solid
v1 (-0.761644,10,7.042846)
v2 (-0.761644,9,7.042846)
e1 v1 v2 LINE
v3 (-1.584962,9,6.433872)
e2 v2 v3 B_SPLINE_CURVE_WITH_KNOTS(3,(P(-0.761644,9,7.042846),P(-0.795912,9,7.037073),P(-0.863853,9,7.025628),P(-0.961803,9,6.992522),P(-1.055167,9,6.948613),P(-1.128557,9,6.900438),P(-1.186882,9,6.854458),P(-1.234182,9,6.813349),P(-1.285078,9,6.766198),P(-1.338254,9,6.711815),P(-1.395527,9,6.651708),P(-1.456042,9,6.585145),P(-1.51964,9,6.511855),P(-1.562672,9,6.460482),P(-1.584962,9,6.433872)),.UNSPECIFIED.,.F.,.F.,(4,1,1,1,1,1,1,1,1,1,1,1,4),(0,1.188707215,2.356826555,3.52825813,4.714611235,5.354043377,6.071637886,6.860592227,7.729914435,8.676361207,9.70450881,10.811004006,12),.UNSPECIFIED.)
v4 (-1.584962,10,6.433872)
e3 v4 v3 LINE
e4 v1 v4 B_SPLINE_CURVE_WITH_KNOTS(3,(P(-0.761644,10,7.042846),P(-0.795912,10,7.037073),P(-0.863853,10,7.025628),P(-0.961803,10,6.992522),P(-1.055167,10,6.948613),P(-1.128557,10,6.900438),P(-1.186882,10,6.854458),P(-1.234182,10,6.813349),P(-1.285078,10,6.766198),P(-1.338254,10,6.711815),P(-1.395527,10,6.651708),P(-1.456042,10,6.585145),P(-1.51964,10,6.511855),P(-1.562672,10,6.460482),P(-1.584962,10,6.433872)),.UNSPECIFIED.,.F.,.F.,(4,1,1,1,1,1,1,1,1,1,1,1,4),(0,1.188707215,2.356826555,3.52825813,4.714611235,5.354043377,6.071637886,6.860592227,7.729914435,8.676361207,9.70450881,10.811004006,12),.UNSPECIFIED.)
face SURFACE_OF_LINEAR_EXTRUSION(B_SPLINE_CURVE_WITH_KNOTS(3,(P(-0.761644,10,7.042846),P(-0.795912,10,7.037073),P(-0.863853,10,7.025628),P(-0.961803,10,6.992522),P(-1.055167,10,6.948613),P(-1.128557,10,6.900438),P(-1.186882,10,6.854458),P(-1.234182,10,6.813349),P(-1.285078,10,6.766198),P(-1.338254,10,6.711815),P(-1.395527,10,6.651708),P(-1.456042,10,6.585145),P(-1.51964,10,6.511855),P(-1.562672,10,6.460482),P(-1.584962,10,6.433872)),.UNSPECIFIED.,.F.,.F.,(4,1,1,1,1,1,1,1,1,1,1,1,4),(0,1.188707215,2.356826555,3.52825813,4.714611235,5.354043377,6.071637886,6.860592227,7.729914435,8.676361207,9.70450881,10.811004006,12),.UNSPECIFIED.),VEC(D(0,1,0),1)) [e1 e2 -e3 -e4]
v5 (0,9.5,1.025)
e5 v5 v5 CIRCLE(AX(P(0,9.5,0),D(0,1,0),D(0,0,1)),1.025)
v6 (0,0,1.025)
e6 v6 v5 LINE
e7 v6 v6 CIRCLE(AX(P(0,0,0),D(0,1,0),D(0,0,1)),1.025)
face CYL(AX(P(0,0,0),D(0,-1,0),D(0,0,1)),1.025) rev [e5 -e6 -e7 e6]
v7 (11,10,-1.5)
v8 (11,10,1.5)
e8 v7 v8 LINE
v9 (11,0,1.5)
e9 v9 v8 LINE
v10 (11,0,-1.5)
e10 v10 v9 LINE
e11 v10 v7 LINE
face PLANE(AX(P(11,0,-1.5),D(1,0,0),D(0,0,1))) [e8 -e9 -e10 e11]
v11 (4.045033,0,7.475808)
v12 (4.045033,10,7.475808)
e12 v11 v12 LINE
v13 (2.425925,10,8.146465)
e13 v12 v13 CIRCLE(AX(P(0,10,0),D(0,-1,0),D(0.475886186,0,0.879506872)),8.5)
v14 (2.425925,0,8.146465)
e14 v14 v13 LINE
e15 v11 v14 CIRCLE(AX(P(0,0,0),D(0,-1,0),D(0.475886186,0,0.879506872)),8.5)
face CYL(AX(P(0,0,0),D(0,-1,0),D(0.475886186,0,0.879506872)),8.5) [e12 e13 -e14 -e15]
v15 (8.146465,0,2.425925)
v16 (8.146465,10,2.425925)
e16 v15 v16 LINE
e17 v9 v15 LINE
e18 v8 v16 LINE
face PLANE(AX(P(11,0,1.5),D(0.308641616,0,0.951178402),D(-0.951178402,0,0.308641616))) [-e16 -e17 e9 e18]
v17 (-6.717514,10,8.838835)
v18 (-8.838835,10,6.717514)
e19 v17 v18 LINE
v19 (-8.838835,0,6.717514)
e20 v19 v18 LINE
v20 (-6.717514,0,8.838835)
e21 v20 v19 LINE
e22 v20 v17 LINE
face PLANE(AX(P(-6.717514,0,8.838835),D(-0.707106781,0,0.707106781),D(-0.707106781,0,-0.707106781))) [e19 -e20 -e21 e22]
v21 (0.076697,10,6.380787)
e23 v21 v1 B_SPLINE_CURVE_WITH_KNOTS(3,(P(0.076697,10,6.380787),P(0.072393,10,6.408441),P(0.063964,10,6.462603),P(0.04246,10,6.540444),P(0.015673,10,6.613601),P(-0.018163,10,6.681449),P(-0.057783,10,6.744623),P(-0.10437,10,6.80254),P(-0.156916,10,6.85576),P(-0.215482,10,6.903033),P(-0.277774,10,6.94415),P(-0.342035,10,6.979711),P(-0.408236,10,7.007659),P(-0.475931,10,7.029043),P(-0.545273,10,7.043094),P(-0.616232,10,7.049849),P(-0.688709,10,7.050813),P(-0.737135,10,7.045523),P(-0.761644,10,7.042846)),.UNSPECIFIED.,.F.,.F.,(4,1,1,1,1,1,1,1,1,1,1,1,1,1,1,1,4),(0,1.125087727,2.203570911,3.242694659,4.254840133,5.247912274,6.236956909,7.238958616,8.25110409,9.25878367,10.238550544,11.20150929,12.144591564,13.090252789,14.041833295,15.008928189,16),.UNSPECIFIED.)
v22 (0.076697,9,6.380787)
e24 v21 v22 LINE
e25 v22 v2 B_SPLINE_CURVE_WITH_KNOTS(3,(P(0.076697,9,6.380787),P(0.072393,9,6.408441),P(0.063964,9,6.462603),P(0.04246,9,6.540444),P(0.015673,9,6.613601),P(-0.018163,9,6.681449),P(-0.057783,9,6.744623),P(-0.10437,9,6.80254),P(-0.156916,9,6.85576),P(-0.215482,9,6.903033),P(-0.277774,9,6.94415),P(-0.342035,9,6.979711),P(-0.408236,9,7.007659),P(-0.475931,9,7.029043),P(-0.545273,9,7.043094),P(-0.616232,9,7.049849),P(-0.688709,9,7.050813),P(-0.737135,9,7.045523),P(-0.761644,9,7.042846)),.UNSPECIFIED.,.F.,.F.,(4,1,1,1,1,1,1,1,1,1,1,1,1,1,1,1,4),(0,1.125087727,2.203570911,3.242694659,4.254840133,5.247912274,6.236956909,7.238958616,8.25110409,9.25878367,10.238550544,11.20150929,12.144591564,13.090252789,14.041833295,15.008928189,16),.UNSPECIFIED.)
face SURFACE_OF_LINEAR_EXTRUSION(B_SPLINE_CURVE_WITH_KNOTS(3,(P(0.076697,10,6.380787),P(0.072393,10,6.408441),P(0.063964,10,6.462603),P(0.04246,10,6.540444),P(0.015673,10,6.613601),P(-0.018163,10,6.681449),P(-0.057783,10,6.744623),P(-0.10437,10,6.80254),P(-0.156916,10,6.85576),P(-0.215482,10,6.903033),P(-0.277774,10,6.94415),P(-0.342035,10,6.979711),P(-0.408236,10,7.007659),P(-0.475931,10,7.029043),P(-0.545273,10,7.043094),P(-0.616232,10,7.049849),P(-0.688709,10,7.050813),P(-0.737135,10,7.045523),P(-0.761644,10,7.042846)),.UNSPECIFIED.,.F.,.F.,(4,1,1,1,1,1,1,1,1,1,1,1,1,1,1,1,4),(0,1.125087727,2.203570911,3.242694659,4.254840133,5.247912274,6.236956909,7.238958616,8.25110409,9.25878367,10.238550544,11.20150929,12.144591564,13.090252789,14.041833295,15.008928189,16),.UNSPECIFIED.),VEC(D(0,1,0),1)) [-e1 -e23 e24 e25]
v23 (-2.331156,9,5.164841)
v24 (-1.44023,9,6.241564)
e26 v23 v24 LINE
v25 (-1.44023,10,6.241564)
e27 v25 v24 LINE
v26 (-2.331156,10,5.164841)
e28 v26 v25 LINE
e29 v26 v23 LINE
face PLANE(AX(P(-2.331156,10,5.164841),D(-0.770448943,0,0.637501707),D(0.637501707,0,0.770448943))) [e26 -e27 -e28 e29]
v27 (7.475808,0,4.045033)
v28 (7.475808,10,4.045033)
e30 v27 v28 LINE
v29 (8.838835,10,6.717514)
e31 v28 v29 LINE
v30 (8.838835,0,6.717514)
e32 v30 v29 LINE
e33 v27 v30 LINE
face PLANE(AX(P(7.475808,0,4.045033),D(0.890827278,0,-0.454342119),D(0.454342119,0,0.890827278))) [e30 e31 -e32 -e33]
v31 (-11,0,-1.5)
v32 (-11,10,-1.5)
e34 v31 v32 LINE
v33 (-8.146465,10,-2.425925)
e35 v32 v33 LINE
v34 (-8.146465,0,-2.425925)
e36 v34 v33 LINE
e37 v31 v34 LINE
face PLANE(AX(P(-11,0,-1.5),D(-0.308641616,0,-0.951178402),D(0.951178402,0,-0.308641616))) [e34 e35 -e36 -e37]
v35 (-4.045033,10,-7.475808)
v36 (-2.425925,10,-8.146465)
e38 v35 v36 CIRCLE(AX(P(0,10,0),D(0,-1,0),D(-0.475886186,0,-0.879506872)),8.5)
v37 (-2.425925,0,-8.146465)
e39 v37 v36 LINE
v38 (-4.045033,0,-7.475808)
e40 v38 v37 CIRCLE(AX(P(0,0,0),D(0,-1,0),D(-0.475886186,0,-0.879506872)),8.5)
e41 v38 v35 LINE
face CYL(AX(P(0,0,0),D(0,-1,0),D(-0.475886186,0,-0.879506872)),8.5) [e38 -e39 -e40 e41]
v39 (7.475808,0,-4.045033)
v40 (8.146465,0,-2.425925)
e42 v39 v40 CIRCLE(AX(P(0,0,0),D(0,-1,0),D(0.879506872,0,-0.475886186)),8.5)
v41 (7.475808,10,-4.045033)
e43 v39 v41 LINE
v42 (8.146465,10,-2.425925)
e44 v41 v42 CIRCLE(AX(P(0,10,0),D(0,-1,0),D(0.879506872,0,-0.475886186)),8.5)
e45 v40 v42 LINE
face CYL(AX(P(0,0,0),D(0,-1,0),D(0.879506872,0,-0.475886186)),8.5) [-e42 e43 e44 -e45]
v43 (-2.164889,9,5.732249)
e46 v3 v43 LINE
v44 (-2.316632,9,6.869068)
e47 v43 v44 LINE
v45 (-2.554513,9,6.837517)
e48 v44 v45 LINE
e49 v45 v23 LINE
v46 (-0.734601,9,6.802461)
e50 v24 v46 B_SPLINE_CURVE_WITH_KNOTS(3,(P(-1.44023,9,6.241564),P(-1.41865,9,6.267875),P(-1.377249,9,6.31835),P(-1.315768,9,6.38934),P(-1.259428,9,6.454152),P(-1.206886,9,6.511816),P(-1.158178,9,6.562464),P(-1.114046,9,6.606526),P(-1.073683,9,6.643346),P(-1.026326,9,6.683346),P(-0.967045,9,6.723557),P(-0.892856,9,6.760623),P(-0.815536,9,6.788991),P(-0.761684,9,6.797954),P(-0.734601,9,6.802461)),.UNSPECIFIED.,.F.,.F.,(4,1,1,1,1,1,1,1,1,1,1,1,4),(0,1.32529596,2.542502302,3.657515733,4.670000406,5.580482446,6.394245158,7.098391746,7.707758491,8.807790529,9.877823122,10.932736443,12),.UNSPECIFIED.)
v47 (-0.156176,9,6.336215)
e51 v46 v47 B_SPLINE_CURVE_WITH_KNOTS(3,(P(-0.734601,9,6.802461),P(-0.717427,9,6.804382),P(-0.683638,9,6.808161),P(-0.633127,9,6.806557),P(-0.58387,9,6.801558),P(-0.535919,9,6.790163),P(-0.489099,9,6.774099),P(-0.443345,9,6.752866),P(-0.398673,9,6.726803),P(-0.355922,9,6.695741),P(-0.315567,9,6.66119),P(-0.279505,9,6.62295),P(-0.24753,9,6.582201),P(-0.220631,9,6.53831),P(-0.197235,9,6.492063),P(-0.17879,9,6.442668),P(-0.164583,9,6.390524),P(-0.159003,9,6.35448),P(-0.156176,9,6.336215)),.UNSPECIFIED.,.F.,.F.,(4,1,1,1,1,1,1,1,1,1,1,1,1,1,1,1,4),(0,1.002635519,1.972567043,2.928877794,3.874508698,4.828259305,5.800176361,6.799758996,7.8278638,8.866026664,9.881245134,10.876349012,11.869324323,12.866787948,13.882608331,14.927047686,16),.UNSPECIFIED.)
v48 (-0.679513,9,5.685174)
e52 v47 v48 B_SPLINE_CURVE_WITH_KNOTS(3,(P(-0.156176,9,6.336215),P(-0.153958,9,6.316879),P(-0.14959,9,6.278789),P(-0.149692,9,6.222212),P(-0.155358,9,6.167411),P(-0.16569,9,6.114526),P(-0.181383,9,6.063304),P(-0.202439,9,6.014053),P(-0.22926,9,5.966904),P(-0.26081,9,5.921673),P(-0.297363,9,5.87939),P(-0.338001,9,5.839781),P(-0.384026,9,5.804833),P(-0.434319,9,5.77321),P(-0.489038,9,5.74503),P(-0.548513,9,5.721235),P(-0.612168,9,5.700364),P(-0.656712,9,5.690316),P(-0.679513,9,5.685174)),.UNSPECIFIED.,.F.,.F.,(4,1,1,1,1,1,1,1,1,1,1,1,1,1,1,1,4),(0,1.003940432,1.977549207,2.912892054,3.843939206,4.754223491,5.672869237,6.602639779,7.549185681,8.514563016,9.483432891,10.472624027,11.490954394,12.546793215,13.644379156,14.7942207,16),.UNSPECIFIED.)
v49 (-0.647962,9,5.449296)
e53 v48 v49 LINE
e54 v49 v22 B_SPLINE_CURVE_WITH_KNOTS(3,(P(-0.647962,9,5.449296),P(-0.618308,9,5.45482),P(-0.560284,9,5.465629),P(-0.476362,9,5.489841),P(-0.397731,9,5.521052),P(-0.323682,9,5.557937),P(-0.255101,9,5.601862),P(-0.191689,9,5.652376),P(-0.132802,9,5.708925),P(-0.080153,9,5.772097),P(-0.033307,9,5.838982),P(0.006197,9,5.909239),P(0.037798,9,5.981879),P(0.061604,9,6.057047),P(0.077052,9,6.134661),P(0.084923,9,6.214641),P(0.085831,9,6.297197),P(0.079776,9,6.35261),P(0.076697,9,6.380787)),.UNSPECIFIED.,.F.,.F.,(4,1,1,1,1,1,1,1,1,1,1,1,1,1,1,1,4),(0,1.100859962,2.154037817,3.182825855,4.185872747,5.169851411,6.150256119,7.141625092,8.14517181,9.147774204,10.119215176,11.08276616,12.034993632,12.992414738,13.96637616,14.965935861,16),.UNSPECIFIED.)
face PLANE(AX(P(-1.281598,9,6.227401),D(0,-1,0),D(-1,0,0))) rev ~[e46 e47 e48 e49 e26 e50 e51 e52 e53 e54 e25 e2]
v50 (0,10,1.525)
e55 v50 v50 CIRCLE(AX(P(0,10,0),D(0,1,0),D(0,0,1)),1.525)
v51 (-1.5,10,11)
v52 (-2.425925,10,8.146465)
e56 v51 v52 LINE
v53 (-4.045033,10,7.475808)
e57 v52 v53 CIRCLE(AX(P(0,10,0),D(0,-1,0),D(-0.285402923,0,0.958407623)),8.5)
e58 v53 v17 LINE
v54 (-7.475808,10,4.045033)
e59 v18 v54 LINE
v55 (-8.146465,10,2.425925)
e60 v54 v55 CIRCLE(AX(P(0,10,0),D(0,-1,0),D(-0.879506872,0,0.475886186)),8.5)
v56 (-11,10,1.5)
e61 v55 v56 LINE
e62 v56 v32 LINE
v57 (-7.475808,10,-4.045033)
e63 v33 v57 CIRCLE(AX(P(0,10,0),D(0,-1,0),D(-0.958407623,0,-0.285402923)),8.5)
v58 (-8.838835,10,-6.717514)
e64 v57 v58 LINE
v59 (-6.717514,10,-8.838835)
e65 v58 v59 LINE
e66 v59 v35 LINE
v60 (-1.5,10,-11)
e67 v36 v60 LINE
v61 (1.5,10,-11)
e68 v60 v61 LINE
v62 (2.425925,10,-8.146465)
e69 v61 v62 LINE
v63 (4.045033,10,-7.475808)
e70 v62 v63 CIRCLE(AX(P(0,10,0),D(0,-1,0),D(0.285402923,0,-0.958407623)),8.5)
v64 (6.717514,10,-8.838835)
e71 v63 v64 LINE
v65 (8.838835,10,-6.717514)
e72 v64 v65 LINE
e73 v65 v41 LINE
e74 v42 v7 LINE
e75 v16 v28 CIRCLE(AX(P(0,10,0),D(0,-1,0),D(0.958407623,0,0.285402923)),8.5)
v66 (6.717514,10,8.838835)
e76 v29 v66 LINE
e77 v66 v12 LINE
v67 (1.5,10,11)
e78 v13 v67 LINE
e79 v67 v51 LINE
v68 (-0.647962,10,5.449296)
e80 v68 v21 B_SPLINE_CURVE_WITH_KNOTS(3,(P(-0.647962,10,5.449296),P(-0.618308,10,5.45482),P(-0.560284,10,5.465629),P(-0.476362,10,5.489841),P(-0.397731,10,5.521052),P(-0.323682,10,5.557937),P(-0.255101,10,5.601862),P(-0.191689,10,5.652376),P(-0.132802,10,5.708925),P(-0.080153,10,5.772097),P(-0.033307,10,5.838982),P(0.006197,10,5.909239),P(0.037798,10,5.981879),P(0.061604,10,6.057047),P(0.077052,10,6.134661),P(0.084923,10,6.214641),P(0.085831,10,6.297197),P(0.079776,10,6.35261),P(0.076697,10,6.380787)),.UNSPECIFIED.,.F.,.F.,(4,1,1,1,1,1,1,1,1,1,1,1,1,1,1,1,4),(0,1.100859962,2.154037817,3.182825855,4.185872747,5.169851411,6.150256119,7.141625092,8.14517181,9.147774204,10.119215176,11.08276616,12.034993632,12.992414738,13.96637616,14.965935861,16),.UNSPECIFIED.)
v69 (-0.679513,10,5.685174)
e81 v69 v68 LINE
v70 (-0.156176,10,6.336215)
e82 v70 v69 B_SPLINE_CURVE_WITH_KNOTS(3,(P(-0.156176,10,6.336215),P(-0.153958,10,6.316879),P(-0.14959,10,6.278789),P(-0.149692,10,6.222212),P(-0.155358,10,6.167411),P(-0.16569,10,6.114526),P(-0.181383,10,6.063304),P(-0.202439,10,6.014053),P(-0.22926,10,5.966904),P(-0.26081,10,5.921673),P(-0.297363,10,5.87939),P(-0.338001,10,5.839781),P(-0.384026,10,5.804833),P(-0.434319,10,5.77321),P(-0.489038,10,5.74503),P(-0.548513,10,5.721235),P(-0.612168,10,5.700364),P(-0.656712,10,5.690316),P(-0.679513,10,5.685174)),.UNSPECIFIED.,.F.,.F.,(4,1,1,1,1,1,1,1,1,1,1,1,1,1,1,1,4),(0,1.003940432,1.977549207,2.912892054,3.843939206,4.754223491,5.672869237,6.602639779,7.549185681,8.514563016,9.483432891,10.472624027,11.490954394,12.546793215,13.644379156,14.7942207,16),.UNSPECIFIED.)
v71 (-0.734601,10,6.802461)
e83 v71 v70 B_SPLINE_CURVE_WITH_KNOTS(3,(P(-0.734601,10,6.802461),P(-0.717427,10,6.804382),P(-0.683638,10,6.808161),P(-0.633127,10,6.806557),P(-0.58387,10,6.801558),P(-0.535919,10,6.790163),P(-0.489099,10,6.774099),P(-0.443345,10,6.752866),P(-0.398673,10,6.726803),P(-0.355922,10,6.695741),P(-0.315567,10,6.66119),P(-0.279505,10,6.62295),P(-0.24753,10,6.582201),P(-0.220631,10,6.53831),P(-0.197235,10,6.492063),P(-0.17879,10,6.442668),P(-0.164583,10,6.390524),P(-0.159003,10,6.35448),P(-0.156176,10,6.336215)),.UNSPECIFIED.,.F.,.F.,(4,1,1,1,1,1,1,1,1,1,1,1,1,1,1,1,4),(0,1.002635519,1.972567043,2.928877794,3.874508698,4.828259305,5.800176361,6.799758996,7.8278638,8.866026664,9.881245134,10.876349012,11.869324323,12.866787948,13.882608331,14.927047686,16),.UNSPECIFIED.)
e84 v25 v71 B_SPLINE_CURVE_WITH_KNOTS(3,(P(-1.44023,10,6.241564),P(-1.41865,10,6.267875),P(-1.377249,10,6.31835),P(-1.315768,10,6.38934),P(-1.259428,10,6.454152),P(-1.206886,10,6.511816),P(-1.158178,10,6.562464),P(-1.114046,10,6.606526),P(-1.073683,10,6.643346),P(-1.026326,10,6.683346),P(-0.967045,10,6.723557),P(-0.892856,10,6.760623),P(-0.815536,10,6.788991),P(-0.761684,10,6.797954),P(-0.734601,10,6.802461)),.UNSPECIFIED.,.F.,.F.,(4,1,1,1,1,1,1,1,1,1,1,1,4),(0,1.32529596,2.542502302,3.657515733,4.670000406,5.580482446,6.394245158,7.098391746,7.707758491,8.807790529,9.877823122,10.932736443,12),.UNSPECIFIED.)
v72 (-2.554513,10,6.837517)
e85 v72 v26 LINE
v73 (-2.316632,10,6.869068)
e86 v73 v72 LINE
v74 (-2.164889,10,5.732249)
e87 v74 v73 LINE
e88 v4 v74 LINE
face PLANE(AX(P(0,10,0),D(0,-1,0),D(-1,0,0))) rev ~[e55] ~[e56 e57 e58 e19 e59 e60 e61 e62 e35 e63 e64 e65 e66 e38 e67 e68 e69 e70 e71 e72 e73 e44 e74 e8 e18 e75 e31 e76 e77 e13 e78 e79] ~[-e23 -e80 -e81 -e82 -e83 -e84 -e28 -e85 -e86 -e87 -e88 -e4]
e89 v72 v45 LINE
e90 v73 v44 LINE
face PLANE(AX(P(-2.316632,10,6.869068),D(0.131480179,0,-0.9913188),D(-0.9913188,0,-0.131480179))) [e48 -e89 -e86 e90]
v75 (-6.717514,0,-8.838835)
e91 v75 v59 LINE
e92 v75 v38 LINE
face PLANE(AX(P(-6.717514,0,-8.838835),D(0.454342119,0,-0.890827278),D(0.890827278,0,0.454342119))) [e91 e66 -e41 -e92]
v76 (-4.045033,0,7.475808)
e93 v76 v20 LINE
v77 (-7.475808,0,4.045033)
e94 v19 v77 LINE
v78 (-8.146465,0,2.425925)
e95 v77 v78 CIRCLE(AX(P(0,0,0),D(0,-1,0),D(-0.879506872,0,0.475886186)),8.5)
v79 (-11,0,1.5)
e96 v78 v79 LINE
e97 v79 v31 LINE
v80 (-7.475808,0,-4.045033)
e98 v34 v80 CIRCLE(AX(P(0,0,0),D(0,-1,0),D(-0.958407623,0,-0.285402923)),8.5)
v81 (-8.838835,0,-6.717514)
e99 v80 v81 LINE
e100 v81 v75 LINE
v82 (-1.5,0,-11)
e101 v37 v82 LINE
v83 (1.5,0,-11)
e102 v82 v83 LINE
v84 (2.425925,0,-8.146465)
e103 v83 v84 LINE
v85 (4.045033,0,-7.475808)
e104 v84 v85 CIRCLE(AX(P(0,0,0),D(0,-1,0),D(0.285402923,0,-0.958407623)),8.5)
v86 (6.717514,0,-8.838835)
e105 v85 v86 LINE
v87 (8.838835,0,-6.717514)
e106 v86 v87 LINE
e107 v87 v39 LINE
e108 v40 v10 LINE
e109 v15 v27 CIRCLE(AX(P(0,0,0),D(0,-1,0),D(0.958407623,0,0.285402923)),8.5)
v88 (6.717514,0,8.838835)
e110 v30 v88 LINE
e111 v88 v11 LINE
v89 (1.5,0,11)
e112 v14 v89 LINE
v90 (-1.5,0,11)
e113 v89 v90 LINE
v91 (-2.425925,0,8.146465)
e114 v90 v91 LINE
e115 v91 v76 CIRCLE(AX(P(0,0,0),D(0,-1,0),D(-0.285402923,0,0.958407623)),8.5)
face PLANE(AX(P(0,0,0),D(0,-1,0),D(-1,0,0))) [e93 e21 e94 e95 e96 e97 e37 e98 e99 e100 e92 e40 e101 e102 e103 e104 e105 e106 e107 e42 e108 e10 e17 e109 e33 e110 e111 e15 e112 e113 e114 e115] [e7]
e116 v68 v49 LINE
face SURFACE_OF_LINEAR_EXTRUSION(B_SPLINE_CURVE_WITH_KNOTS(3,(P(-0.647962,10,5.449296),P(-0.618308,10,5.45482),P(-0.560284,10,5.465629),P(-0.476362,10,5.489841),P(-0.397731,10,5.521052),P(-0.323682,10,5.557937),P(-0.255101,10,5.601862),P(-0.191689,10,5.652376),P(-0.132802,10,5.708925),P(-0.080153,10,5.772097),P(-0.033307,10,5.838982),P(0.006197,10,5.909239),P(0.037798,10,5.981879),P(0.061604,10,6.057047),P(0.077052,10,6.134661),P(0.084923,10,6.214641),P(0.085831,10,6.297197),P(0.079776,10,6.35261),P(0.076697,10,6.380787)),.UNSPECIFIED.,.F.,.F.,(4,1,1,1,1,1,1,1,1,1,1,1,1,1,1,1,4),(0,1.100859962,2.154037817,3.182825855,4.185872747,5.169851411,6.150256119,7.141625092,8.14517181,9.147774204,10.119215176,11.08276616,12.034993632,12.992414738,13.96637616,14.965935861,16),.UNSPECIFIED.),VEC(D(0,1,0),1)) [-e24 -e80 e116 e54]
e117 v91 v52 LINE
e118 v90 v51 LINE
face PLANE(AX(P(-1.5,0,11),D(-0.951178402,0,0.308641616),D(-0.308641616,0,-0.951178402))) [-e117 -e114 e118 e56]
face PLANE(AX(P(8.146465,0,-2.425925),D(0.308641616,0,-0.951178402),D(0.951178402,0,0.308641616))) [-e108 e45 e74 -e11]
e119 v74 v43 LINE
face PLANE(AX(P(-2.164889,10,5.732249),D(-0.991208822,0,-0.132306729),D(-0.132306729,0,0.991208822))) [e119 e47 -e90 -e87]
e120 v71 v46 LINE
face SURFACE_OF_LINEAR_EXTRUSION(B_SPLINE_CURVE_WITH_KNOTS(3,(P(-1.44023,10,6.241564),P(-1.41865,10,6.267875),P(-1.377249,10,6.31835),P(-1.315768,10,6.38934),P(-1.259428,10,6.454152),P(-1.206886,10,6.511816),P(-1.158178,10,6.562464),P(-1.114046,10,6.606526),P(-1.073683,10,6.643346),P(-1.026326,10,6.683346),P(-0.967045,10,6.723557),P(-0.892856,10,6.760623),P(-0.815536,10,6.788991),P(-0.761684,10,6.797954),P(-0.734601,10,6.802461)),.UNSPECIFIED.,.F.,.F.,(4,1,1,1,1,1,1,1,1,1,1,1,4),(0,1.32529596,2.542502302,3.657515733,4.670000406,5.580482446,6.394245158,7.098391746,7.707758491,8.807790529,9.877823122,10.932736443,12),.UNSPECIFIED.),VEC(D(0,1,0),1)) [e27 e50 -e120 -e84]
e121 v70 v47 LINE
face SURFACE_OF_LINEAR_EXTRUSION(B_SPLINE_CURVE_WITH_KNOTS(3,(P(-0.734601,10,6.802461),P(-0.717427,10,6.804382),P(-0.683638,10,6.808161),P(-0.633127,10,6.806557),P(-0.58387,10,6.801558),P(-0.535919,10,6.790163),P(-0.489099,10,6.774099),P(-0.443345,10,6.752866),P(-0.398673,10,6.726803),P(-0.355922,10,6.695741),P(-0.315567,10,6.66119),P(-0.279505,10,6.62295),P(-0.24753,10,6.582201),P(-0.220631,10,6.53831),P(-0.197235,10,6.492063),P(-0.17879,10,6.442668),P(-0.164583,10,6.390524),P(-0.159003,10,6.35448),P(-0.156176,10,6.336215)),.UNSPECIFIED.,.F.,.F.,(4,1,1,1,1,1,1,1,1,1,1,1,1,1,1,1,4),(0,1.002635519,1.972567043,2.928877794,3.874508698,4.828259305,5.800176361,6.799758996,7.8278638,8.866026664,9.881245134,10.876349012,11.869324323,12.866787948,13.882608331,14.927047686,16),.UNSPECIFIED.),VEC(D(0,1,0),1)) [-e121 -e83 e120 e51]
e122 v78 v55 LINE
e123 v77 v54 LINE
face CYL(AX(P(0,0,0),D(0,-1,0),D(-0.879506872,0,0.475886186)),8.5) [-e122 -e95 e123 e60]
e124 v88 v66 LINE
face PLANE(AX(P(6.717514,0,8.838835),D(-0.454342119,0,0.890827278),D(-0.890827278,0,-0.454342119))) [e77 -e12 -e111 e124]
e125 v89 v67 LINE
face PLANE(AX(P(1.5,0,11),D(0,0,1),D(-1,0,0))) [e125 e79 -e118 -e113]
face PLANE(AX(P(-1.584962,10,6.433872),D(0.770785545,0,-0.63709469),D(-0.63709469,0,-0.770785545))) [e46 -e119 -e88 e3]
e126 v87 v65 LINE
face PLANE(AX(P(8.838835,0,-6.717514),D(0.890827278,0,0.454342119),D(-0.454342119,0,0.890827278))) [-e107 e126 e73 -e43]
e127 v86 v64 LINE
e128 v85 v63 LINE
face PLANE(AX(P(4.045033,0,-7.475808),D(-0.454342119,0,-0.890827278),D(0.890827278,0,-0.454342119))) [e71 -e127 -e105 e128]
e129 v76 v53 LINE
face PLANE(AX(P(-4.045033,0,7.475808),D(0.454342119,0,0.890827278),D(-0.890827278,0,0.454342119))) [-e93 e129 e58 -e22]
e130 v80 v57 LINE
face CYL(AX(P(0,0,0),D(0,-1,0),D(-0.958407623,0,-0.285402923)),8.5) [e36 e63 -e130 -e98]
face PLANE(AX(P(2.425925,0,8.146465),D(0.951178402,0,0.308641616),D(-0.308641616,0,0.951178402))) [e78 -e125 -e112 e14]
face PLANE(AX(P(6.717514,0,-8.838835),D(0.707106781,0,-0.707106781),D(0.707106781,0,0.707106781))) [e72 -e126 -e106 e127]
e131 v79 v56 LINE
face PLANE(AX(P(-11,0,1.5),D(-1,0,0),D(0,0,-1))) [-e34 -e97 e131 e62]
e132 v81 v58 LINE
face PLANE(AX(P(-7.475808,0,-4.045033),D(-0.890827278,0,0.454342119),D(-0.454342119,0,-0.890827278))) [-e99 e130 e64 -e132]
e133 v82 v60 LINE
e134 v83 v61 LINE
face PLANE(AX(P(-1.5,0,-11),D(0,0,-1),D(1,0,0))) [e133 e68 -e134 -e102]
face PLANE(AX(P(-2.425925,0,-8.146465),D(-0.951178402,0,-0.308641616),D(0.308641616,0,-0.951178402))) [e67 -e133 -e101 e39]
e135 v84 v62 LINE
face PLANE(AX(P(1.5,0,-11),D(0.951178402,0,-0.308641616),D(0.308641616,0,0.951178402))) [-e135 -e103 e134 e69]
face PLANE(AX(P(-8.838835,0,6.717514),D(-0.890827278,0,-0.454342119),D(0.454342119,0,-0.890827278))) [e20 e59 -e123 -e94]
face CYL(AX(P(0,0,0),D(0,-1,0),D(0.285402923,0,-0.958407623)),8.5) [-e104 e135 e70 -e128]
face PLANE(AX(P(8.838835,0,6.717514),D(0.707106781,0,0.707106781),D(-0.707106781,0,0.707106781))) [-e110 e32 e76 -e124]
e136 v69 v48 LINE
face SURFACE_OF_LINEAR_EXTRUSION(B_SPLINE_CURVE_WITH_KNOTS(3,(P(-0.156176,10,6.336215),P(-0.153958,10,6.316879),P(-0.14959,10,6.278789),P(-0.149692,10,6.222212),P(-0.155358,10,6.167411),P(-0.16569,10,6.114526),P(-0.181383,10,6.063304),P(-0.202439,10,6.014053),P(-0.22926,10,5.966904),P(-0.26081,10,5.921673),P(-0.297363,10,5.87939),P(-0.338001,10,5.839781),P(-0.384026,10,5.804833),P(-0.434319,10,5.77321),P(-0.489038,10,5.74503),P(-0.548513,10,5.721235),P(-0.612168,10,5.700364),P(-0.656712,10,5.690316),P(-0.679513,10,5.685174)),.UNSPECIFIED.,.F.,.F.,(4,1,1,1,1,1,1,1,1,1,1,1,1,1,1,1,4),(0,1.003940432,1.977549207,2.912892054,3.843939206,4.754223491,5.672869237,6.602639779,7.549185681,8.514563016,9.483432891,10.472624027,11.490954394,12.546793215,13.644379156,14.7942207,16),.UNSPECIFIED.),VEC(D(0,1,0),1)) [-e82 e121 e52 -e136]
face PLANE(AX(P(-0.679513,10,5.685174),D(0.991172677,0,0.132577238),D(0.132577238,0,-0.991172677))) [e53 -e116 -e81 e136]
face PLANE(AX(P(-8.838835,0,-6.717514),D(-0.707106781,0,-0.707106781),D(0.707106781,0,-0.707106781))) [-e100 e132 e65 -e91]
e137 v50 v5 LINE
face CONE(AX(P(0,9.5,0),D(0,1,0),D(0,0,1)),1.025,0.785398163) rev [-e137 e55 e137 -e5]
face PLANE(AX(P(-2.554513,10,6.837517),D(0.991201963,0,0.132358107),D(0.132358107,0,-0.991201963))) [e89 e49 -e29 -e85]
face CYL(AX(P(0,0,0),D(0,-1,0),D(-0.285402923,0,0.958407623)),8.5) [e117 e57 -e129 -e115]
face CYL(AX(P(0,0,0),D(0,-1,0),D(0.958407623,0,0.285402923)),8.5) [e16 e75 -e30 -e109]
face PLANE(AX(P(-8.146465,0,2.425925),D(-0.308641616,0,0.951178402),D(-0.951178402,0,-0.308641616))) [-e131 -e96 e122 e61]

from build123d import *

# Parameters (mm, degrees)
SKETCH1_R           = 1.025
BOSS_EXTRUDE1_DEPTH = 10
CUT_EXTRUDE1_DEPTH  = 1
CHAMFER1_SIZE       = 0.5


with BuildPart() as part:
    # Sketch1 → Boss-Extrude1 (new body)
    with BuildSketch(Plane(origin=(0, 0, 0), x_dir=(1, 0, 0), z_dir=(0, 1, 0))):
        with BuildLine():
            Line((-1.5, 11), (1.5, 11))
            Line((1.5, 11), (2.425924848, 8.146464793))
            ThreePointArc((2.425924848, 8.146464793), (3.252809175, 7.852976026), (4.045032587, 7.475808409))
            Line((4.045032587, 7.475808409), (6.717514421, 8.838834765))
            Line((6.717514421, 8.838834765), (8.838834765, 6.717514421))
            Line((8.838834765, 6.717514421), (7.475808409, 4.045032587))
            ThreePointArc((7.475808409, 4.045032587), (7.852976026, 3.252809175), (8.146464793, 2.425924848))
            Line((8.146464793, 2.425924848), (11, 1.5))
            Line((11, 1.5), (11, -1.5))
            Line((11, -1.5), (8.146464793, -2.425924848))
            ThreePointArc((8.146464793, -2.425924848), (7.852976026, -3.252809175), (7.475808409, -4.045032587))
            Line((7.475808409, -4.045032587), (8.838834765, -6.717514421))
            Line((8.838834765, -6.717514421), (6.717514421, -8.838834765))
            Line((6.717514421, -8.838834765), (4.045032587, -7.475808409))
            ThreePointArc((4.045032587, -7.475808409), (3.252809175, -7.852976026), (2.425924848, -8.146464793))
            Line((2.425924848, -8.146464793), (1.5, -11))
            Line((1.5, -11), (-1.5, -11))
            Line((-1.5, -11), (-2.425924848, -8.146464793))
            ThreePointArc((-2.425924848, -8.146464793), (-3.252809175, -7.852976026), (-4.045032587, -7.475808409))
            Line((-4.045032587, -7.475808409), (-6.717514421, -8.838834765))
            Line((-6.717514421, -8.838834765), (-8.838834765, -6.717514421))
            Line((-8.838834765, -6.717514421), (-7.475808409, -4.045032587))
            ThreePointArc((-7.475808409, -4.045032587), (-7.852976026, -3.252809175), (-8.146464793, -2.425924848))
            Line((-8.146464793, -2.425924848), (-11, -1.5))
            Line((-11, -1.5), (-11, 1.5))
            Line((-11, 1.5), (-8.146464793, 2.425924848))
            ThreePointArc((-8.146464793, 2.425924848), (-7.852976026, 3.252809175), (-7.475808409, 4.045032587))
            Line((-7.475808409, 4.045032587), (-8.838834765, 6.717514421))
            Line((-8.838834765, 6.717514421), (-6.717514421, 8.838834765))
            Line((-6.717514421, 8.838834765), (-4.045032587, 7.475808409))
            ThreePointArc((-4.045032587, 7.475808409), (-3.252809175, 7.852976026), (-2.425924848, 8.146464793))
            Line((-2.425924848, 8.146464793), (-1.5, 11))
        make_face()
        with Locations(Location((0, 0, 0), (0, 0, 270))):
            Circle(SKETCH1_R, mode=Mode.SUBTRACT)
    extrude(amount=BOSS_EXTRUDE1_DEPTH)

    # Sketch2 → Cut-Extrude1 (cut)
    with BuildSketch(Plane(origin=(0, 10, 0), x_dir=(1, 0, 0), z_dir=(0, 1, 0))):
        with BuildLine():
            Line((-0.67951288, -5.685173621), (-0.647962399, -5.449296217))
            add(Edge.make_bspline(
                [(-0.647962399, -5.449296217), (-0.618308174, -5.454820304), (-0.560284153, -5.465629209), (-0.476362431, -5.48984076), (-0.397731022, -5.521051701), (-0.323681884, -5.55793727), (-0.2551006, -5.601861634), (-0.191688594, -5.652375632), (-0.132801937, -5.708925264), (-0.0801525, -5.772097211), (-0.033306561, -5.838981745), (0.006196757, -5.909238602), (0.037797909, -5.981878785), (0.061604112, -6.057047051), (0.077052172, -6.134660608), (0.08492264, -6.214640896), (0.085830566, -6.29719701), (0.079775803, -6.352610008), (0.076697056, -6.380786602)],
                knots=[0, 0, 0, 0, 1.100859962, 2.154037817, 3.182825855, 4.185872747, 5.169851411, 6.150256119, 7.141625092, 8.14517181, 9.147774204, 10.119215176, 11.08276616, 12.034993632, 12.992414738, 13.96637616, 14.965935861, 16, 16, 16, 16], degree=3))
            add(Edge.make_bspline(
                [(0.076697056, -6.380786602), (0.072393378, -6.408440649), (0.063964293, -6.462603227), (0.04245955, -6.540444475), (0.015673176, -6.613601341), (-0.018163052, -6.681449321), (-0.057782709, -6.744623459), (-0.104369947, -6.802540115), (-0.156916189, -6.855759765), (-0.215482247, -6.903032984), (-0.277774366, -6.944150039), (-0.342035354, -6.979710839), (-0.408235726, -7.007659397), (-0.475930945, -7.029042638), (-0.545273153, -7.043093792), (-0.616231572, -7.049848725), (-0.688708826, -7.050812711), (-0.737134817, -7.045523091), (-0.76164429, -7.042845897)],
                knots=[0, 0, 0, 0, 1.125087727, 2.203570911, 3.242694659, 4.254840133, 5.247912274, 6.236956909, 7.238958616, 8.25110409, 9.25878367, 10.238550544, 11.20150929, 12.144591564, 13.090252789, 14.041833295, 15.008928189, 16, 16, 16, 16], degree=3))
            add(Edge.make_bspline(
                [(-0.76164429, -7.042845897), (-0.795911856, -7.037073204), (-0.863853491, -7.025627798), (-0.961802832, -6.992522173), (-1.055166763, -6.948613121), (-1.128556526, -6.900437931), (-1.18688245, -6.854457889), (-1.234181818, -6.813349399), (-1.285078121, -6.766197674), (-1.338253587, -6.711815369), (-1.395526889, -6.651708318), (-1.456041505, -6.585144653), (-1.519640402, -6.511855414), (-1.562672338, -6.460481627), (-1.584961598, -6.433871538)],
                knots=[0, 0, 0, 0, 1.188707215, 2.356826555, 3.52825813, 4.714611235, 5.354043377, 6.071637886, 6.860592227, 7.729914435, 8.676361207, 9.70450881, 10.811004006, 12, 12, 12, 12], degree=3))
            Line((-1.584961598, -6.433871538), (-2.164889482, -5.732248942))
            Line((-2.164889482, -5.732248942), (-2.316632271, -6.869067852))
            Line((-2.316632271, -6.869067852), (-2.55451288, -6.837517371))
            Line((-2.55451288, -6.837517371), (-2.331155508, -5.164841089))
            Line((-2.331155508, -5.164841089), (-1.440230027, -6.241563846))
            add(Edge.make_bspline(
                [(-1.440230027, -6.241563846), (-1.418649822, -6.267874505), (-1.377249469, -6.318349956), (-1.315768194, -6.38934036), (-1.259427886, -6.454151648), (-1.206885587, -6.511815526), (-1.158177578, -6.562464113), (-1.114045746, -6.606526292), (-1.073683056, -6.643345812), (-1.026325868, -6.683346431), (-0.967044732, -6.723557397), (-0.892856227, -6.760623309), (-0.81553634, -6.788990522), (-0.761683927, -6.797953641), (-0.734601021, -6.802461281)],
                knots=[0, 0, 0, 0, 1.32529596, 2.542502302, 3.657515733, 4.670000406, 5.580482446, 6.394245158, 7.098391746, 7.707758491, 8.807790529, 9.877823122, 10.932736443, 12, 12, 12, 12], degree=3))
            add(Edge.make_bspline(
                [(-0.734601021, -6.802461281), (-0.717426635, -6.80438222), (-0.68363806, -6.80816144), (-0.633127366, -6.806556794), (-0.583869632, -6.801558493), (-0.535919132, -6.790163413), (-0.489098591, -6.774099208), (-0.443345088, -6.752865521), (-0.398672819, -6.726802578), (-0.35592185, -6.695740886), (-0.315566891, -6.661189714), (-0.279504864, -6.622950363), (-0.247530448, -6.582201059), (-0.220631343, -6.538310443), (-0.197234923, -6.492062695), (-0.178790476, -6.442668271), (-0.164583049, -6.390524125), (-0.15900309, -6.354480024), (-0.15617554, -6.336215288)],
                knots=[0, 0, 0, 0, 1.002635519, 1.972567043, 2.928877794, 3.874508698, 4.828259305, 5.800176361, 6.799758996, 7.8278638, 8.866026664, 9.881245134, 10.876349012, 11.869324323, 12.866787948, 13.882608331, 14.927047686, 16, 16, 16, 16], degree=3))
            add(Edge.make_bspline(
                [(-0.15617554, -6.336215288), (-0.15395807, -6.316878514), (-0.149590127, -6.278789182), (-0.149692165, -6.222212083), (-0.155357805, -6.167410823), (-0.165690288, -6.114526465), (-0.181382515, -6.063304443), (-0.202439411, -6.014053189), (-0.229260456, -5.966903638), (-0.260809506, -5.921672896), (-0.297362541, -5.879390265), (-0.338000583, -5.839781192), (-0.384025516, -5.804833072), (-0.434318992, -5.773209858), (-0.489037939, -5.745030253), (-0.548513417, -5.721234969), (-0.612167638, -5.700363512), (-0.656711876, -5.690316446), (-0.67951288, -5.685173621)],
                knots=[0, 0, 0, 0, 1.003940432, 1.977549207, 2.912892054, 3.843939206, 4.754223491, 5.672869237, 6.602639779, 7.549185681, 8.514563016, 9.483432891, 10.472624027, 11.490954394, 12.546793215, 13.644379156, 14.7942207, 16, 16, 16, 16], degree=3))
        make_face()
    extrude(amount=-CUT_EXTRUDE1_DEPTH, mode=Mode.SUBTRACT)

    # Chamfer1
    chamfer1_edges = [part.edges().sort_by_distance(p)[0] for p in [
        (0, 10, -1.025),
    ]]
    chamfer(chamfer1_edges, length=CHAMFER1_SIZE)


solid = part.part
